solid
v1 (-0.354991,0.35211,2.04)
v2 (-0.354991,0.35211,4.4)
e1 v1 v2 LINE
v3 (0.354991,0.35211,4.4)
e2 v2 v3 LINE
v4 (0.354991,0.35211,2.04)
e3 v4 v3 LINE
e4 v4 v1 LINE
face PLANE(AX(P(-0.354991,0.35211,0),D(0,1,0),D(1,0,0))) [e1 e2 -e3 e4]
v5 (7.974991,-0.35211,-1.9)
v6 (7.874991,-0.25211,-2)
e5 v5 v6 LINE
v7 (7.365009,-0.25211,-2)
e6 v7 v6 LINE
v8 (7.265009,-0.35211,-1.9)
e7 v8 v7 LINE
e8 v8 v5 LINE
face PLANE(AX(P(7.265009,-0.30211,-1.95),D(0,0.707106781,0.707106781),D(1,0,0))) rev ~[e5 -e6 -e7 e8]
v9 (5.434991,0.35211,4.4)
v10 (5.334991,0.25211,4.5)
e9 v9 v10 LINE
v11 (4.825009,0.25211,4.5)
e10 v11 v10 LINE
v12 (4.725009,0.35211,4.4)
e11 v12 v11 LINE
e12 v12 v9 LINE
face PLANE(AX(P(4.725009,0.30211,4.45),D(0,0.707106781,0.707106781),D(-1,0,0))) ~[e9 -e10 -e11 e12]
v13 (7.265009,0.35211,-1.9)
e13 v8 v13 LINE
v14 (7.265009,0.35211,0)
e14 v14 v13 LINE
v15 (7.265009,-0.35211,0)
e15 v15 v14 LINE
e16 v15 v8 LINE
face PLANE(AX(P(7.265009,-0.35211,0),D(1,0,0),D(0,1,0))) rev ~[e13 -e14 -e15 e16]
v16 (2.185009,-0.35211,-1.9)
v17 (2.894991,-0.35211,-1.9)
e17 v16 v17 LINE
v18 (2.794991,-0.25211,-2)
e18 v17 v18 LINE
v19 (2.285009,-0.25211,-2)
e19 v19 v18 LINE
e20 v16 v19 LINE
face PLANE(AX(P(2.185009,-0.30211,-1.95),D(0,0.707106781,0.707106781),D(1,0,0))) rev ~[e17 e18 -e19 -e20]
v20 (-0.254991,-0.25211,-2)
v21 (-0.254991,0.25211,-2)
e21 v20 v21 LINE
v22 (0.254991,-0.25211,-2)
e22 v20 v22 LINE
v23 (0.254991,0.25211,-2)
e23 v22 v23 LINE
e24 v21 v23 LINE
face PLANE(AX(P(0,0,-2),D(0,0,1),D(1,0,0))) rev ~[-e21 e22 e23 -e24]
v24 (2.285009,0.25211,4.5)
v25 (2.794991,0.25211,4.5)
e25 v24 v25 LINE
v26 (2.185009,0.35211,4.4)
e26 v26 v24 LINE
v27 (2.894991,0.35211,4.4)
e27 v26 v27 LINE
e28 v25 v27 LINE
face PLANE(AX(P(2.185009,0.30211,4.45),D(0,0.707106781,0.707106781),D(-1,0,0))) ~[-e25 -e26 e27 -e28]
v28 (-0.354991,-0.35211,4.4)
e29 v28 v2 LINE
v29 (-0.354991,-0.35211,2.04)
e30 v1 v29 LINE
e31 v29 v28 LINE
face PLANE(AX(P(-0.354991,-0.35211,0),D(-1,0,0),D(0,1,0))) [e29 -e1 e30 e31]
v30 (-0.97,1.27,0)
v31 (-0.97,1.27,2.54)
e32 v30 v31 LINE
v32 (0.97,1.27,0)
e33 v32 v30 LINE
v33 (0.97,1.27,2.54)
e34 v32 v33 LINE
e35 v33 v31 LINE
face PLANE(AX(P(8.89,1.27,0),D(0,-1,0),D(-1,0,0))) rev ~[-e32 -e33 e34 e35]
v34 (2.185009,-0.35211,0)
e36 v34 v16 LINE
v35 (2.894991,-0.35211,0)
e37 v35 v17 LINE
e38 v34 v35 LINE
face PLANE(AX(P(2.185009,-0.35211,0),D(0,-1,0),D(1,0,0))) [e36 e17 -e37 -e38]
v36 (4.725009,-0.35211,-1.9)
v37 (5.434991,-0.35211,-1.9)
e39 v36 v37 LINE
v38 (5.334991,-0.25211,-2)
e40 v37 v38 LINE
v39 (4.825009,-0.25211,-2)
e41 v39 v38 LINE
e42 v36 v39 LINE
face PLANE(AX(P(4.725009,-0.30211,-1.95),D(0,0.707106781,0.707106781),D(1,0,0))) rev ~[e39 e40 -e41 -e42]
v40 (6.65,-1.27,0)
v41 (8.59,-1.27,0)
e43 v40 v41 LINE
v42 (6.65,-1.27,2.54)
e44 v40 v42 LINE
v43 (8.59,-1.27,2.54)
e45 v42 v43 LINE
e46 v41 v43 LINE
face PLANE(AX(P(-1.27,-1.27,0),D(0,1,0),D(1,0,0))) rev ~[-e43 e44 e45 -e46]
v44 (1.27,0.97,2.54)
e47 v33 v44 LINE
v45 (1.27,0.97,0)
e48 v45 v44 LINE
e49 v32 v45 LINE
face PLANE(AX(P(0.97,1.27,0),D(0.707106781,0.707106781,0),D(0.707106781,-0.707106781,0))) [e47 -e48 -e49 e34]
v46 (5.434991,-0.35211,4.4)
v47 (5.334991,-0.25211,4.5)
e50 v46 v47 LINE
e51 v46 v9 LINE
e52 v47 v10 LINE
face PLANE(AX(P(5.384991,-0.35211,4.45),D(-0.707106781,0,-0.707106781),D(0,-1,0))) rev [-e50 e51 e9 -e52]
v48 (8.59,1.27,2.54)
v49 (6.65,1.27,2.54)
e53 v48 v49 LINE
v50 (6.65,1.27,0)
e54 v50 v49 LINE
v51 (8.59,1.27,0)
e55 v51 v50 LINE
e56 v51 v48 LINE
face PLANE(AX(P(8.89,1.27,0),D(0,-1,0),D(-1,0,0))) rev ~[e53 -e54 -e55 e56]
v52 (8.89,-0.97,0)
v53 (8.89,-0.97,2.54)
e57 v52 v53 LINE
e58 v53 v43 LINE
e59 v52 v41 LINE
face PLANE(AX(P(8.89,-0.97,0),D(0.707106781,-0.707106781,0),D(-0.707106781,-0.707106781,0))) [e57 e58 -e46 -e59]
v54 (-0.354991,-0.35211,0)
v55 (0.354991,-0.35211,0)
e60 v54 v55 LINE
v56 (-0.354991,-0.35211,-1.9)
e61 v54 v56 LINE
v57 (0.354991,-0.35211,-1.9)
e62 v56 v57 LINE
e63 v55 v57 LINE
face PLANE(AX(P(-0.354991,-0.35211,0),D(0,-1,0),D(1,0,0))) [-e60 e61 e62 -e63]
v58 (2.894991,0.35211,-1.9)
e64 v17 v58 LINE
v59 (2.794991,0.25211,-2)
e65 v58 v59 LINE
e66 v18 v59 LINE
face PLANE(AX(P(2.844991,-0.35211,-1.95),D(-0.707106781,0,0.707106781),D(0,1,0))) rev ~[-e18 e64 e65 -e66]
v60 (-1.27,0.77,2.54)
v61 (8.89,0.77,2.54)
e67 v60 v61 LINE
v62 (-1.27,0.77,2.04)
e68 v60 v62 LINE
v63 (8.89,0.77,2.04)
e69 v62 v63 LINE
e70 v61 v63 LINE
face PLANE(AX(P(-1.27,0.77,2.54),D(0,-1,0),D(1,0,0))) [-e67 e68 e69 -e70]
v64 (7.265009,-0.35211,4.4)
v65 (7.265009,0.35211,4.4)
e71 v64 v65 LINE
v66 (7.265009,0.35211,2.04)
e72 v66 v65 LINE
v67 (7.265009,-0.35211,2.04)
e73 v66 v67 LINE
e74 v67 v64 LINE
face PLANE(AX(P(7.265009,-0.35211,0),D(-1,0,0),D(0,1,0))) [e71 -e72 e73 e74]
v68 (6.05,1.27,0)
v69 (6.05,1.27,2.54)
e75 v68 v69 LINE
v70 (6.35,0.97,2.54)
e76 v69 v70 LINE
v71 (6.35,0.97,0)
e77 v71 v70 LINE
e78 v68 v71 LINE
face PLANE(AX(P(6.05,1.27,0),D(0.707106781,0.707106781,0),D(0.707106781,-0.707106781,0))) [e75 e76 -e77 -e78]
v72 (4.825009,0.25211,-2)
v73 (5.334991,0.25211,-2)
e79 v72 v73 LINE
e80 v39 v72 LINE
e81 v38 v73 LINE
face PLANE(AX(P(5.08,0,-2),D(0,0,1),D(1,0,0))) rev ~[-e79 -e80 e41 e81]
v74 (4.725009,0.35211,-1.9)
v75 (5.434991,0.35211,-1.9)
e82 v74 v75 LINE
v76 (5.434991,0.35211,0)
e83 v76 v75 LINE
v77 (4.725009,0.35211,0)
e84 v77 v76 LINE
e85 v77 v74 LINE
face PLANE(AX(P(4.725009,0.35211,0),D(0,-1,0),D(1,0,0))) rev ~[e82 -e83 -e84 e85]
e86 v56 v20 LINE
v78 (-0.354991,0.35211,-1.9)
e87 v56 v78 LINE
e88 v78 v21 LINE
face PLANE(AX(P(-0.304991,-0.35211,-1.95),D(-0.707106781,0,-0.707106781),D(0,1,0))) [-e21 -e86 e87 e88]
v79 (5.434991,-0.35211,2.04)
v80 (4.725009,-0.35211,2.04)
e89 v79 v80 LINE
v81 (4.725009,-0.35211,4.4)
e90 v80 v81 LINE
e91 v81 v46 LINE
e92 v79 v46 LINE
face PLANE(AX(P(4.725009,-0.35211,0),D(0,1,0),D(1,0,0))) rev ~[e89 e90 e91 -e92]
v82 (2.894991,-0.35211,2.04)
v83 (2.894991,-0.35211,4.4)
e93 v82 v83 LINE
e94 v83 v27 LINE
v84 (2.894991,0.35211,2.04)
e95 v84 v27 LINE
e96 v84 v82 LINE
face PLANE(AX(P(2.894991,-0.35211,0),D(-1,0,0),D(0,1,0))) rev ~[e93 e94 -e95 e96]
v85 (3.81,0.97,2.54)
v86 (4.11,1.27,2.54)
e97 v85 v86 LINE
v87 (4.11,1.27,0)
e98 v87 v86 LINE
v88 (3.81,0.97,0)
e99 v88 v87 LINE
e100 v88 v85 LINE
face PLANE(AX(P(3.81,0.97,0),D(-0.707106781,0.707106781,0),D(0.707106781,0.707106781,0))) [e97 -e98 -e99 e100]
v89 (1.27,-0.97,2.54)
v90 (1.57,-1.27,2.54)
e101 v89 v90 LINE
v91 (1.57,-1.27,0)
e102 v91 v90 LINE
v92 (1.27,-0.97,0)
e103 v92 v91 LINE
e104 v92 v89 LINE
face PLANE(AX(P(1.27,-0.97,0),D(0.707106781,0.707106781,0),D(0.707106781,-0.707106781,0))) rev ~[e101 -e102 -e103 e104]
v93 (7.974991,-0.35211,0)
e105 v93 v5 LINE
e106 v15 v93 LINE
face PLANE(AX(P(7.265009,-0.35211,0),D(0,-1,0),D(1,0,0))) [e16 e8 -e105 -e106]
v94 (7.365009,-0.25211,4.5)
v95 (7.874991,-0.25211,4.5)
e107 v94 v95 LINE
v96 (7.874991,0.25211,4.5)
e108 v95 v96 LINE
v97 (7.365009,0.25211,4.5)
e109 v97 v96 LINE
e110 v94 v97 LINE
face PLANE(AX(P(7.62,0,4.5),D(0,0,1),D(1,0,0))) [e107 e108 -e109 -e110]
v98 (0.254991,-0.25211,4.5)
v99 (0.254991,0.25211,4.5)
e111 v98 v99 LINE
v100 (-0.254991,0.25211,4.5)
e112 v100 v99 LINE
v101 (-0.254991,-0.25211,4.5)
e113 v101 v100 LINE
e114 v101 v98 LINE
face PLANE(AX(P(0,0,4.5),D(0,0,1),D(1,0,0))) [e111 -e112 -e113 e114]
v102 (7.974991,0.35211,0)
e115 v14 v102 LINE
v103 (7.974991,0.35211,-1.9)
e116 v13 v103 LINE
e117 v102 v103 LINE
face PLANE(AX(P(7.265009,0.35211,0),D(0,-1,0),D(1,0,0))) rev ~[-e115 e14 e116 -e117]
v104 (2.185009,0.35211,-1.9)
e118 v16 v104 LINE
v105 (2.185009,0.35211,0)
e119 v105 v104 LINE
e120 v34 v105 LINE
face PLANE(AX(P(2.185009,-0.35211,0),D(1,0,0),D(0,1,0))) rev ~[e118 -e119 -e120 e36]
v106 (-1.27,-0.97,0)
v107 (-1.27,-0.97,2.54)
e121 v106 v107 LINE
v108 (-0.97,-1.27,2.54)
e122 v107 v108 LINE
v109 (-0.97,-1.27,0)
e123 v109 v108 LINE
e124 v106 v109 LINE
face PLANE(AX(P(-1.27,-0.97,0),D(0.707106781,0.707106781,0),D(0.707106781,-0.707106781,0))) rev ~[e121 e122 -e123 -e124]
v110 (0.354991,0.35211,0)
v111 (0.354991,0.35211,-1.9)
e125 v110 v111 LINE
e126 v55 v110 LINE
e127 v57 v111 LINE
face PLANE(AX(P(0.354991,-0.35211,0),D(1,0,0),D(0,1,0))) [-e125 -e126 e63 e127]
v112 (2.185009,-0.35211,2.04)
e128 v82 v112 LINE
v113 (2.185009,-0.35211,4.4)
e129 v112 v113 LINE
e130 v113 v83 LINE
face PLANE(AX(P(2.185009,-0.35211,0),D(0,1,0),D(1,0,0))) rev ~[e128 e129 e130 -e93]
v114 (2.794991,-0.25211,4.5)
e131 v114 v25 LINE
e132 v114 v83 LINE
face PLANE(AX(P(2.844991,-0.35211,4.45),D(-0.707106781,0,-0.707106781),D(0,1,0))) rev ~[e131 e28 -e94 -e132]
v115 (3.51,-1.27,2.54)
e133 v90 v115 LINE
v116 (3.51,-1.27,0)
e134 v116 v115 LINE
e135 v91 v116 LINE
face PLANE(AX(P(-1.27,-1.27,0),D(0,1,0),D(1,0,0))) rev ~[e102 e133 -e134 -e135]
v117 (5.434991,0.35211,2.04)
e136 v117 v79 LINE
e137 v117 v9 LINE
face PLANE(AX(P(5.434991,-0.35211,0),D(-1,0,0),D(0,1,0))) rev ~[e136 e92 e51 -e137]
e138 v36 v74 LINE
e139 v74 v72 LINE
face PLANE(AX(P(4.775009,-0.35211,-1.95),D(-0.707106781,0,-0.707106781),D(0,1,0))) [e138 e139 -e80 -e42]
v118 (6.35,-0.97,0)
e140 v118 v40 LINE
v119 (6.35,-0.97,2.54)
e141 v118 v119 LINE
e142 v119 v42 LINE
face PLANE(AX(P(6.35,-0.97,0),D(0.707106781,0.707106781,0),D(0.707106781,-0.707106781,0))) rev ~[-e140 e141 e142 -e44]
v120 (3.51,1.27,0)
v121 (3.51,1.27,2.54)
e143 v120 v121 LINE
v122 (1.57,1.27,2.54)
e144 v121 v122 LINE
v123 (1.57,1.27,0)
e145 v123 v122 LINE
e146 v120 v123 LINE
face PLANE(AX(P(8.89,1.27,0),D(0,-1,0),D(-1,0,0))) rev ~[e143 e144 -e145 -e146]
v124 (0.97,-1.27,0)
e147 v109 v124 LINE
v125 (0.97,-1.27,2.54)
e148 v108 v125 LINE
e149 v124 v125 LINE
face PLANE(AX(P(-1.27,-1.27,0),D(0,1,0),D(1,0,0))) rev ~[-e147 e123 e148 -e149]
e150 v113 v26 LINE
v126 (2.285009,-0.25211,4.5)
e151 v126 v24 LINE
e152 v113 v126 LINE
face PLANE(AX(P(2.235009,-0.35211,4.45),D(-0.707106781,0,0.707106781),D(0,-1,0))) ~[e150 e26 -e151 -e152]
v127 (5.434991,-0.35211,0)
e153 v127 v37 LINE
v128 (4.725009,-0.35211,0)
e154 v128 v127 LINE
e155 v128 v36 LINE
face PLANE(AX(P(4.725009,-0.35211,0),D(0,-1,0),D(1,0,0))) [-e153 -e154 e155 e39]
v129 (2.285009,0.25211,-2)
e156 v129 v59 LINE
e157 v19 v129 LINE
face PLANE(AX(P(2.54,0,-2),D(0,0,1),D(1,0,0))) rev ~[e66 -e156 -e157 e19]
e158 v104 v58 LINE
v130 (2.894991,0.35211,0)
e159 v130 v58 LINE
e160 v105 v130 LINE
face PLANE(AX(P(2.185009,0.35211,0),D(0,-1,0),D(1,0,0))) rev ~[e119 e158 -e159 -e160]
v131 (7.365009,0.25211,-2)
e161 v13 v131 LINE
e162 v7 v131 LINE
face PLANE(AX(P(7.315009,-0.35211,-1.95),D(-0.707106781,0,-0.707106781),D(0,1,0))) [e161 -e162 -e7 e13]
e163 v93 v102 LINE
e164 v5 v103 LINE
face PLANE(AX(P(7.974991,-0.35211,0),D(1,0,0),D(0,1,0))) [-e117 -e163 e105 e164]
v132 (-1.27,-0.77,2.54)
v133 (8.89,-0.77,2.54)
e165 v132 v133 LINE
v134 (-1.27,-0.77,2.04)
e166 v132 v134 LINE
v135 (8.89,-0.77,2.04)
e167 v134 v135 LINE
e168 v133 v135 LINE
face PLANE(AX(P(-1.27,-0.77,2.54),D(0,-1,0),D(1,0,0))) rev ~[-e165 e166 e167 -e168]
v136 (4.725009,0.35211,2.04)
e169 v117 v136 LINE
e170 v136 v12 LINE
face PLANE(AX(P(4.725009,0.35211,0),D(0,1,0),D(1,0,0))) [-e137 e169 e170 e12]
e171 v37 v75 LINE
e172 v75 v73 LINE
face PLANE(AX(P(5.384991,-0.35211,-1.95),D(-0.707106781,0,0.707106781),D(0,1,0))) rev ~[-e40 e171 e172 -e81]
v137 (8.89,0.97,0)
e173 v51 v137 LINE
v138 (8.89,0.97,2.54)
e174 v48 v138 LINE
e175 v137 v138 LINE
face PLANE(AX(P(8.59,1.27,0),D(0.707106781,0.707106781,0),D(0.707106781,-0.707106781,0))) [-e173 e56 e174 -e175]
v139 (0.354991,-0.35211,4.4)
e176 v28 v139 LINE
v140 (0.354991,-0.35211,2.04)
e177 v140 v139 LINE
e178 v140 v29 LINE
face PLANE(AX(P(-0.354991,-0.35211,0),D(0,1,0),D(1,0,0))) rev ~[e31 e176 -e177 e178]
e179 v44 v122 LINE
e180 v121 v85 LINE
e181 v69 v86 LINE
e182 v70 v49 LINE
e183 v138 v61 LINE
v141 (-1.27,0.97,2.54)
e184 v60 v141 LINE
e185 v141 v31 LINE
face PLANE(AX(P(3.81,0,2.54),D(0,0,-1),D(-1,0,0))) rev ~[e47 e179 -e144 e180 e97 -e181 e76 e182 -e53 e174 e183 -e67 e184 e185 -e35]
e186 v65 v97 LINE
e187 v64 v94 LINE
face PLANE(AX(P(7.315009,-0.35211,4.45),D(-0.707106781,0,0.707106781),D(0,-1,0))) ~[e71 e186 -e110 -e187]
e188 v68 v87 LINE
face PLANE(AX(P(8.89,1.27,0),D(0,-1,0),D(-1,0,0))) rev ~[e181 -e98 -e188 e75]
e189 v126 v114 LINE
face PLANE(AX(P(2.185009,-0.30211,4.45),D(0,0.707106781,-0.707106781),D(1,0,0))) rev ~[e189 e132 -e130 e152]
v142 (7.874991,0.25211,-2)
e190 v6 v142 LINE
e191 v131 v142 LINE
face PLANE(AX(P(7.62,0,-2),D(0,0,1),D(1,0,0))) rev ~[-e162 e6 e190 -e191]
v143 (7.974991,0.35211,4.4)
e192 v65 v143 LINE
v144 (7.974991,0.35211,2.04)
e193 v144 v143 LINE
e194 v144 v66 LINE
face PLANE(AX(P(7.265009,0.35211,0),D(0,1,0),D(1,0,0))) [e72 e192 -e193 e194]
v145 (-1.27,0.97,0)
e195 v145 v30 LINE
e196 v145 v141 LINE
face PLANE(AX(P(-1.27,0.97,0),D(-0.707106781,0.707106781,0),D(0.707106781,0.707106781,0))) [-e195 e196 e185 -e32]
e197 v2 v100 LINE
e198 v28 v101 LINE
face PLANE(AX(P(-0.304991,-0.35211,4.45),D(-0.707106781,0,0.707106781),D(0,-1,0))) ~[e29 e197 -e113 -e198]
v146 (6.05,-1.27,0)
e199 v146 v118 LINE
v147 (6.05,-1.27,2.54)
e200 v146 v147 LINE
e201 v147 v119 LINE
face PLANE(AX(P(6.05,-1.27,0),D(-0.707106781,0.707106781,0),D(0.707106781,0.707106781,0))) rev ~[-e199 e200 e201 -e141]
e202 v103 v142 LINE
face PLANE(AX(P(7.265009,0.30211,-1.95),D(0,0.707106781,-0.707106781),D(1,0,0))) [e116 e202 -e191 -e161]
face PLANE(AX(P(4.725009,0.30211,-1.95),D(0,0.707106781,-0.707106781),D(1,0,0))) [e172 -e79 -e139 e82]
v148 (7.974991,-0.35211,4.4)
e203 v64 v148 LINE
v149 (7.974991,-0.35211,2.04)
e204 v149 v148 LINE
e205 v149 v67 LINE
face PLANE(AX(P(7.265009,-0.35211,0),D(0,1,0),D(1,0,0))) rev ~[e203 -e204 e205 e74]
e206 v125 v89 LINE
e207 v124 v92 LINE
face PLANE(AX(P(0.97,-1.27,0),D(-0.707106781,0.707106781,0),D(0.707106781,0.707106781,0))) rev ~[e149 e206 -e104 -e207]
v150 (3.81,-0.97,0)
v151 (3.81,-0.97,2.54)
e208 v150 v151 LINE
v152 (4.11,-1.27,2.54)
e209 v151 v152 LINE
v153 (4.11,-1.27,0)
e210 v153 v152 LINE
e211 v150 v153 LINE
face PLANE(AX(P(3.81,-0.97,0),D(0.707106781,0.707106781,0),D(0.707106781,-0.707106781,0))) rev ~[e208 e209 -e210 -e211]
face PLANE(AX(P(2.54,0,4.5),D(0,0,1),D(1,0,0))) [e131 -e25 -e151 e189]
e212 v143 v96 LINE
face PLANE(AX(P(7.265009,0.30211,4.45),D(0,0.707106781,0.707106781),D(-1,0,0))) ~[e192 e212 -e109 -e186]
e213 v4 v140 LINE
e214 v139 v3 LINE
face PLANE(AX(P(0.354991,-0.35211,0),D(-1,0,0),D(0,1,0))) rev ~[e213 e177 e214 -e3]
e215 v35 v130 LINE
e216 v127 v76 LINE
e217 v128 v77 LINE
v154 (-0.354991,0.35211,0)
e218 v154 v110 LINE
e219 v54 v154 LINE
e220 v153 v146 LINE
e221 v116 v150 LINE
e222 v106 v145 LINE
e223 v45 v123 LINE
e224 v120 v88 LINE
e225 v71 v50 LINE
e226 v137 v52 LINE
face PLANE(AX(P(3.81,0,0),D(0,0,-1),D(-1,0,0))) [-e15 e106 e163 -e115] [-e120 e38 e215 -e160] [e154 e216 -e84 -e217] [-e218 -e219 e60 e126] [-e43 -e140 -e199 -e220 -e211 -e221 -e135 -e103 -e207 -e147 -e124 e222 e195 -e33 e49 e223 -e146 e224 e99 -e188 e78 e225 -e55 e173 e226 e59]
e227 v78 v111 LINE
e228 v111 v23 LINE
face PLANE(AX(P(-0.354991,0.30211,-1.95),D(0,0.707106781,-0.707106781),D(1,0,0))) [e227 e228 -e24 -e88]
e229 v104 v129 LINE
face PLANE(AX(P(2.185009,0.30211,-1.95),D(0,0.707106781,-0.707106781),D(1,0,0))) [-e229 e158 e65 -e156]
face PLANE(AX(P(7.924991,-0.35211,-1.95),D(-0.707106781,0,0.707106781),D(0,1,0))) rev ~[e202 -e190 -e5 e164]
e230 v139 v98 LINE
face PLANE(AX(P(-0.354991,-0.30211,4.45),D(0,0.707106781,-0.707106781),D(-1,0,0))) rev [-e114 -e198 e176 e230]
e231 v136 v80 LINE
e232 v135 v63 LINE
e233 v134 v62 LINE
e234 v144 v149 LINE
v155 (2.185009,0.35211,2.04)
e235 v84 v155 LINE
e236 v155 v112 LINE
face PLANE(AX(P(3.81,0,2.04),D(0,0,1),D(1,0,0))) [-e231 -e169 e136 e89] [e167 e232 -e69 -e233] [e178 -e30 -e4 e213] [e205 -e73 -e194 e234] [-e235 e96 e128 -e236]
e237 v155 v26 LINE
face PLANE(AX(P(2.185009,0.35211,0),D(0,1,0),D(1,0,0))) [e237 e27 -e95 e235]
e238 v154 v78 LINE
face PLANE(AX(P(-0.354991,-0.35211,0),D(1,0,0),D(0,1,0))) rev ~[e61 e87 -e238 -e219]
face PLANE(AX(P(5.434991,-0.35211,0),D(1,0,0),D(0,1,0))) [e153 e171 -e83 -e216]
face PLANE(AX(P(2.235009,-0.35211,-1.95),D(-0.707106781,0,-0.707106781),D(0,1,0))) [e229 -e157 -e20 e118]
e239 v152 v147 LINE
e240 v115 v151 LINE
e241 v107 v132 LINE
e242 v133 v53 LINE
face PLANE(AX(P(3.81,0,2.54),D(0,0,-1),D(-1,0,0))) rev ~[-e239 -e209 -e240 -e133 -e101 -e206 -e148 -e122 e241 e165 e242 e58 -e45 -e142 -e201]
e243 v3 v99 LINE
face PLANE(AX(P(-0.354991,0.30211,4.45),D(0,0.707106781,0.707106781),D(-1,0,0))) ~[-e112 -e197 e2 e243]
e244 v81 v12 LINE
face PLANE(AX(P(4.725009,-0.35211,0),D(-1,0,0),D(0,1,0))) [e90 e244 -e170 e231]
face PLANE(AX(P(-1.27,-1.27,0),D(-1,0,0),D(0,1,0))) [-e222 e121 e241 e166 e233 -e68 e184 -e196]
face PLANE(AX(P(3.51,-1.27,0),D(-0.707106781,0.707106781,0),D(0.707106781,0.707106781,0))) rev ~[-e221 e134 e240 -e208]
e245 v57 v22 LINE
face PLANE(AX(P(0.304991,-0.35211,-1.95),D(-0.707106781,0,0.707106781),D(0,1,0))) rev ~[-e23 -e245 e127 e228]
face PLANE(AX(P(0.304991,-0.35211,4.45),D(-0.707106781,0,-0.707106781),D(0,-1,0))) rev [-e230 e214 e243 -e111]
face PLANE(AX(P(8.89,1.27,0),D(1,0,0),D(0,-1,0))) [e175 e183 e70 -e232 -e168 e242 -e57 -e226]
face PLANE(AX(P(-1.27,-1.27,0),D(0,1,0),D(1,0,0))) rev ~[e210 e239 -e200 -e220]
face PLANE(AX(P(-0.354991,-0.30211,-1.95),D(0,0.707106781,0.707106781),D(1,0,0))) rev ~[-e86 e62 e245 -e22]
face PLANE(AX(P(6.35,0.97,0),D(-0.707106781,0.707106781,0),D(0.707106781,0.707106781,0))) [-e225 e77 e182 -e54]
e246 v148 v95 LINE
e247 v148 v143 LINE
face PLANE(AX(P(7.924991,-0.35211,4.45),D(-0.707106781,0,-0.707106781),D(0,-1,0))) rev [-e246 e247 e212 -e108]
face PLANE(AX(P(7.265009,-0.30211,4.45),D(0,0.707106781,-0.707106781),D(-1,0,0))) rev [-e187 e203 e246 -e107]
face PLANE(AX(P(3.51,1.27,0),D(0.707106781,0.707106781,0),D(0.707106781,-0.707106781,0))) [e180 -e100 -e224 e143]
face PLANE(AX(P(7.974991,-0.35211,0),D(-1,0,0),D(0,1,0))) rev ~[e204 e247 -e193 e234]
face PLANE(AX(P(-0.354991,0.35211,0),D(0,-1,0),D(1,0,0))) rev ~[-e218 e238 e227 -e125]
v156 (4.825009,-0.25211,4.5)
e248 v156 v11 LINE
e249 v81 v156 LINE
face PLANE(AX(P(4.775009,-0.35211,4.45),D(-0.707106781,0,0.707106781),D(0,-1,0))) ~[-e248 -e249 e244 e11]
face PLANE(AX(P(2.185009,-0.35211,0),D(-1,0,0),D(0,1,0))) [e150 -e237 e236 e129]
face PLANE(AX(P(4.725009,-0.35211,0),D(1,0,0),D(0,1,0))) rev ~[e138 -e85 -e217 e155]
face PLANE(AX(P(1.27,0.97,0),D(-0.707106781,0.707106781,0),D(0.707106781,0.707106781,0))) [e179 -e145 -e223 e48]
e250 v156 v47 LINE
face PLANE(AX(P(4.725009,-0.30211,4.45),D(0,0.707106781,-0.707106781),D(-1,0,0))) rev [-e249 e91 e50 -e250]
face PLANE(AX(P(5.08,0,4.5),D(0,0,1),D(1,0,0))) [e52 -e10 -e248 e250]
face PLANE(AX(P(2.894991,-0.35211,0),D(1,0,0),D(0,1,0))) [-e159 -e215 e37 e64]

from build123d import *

# Parameters (mm, degrees)
SKETCH_1_W          = 0.709981308
SKETCH_1_H          = 0.70422052
EXTRUDE_1_DEPTH     = 10
EXTRUDE_1_2_DEPTH   = 10
EXTRUDE_1_3_DEPTH   = 10
EXTRUDE_1_4_DEPTH   = 10
EXTRUDE_2_DEPTH     = 2.54
SKETCH_4_W          = 10.16
SKETCH_4_H          = 1.54
CUT_EXTRUDE_2_DEPTH = 0.5
SKETCH_1_2_W        = 0.709981308
SKETCH_1_2_H        = 0.70422052
EXTRUDE_3_DEPTH     = 2
CUT_EXTRUDE_1_DEPTH = 2.54
SKETCH_1_3_W        = 0.709981308
SKETCH_1_3_H        = 0.70422052
EXTRUDE_4_DEPTH     = 4.5
CHAMFER_1_SIZE      = 0.1


with BuildPart() as part:
    # 草图1 → 凸台-拉伸1 (new body)
    with BuildSketch(Plane.XY):
        with Locations((2.54, 0)):
            Rectangle(SKETCH_1_W, SKETCH_1_H)
    extrude(amount=EXTRUDE_1_DEPTH)



with BuildPart() as body_2:
    # 草图1 → Extrude 1 2 (new body)
    with BuildSketch(Plane.XY):
        Rectangle(SKETCH_1_W, SKETCH_1_H)
    extrude(amount=EXTRUDE_1_2_DEPTH)


with BuildPart() as body_3:
    # 草图1 → Extrude 1 3 (new body)
    with BuildSketch(Plane.XY):
        with Locations((5.08, 0)):
            Rectangle(SKETCH_1_W, SKETCH_1_H)
    extrude(amount=EXTRUDE_1_3_DEPTH)


with BuildPart() as body_4:
    # 草图1 → Extrude 1 4 (new body)
    with BuildSketch(Plane.XY):
        with Locations((7.62, 0)):
            Rectangle(SKETCH_1_W, SKETCH_1_H)
    extrude(amount=EXTRUDE_1_4_DEPTH)


with BuildPart() as part_1:
    add(part.part)

    add(body_2.part)  # 凸台-拉伸2 merges body 2

    add(body_3.part)  # 凸台-拉伸2 merges body 3

    add(body_4.part)  # 凸台-拉伸2 merges body 4
    # 草图2 → 凸台-拉伸2 (add)
    with BuildSketch(Plane.XY):
        Polygon((-1.27, 1.27), (1.27, 1.27), (6.35, 1.27), (8.89, 1.27), (8.89, -1.27), (6.35, -1.27), (1.27, -1.27), (-1.27, -1.27), align=None)
    extrude(amount=EXTRUDE_2_DEPTH)

    # 草图4 → 切除-拉伸2 (cut)
    with BuildSketch(Plane.XY.offset(2.54)):
        with Locations((3.81, 0)):
            Rectangle(SKETCH_4_W, SKETCH_4_H)
    extrude(amount=-CUT_EXTRUDE_2_DEPTH, mode=Mode.SUBTRACT)


with BuildPart() as body_2_2:
    # of the pieces the cut leaves, the one that is kept (cut_extrude_2_keep)
    add(part_1.part.solids().sort_by_distance((8.89, 1.27, 0))[0])

    # 草图1<2> → 凸台-拉伸3 (add)
    with BuildSketch(Plane.XY):
        with Locations((2.54, 0)):
            Rectangle(SKETCH_1_2_W, SKETCH_1_2_H)
        Rectangle(SKETCH_1_2_W, SKETCH_1_2_H)
        with Locations((5.08, 0)):
            Rectangle(SKETCH_1_2_W, SKETCH_1_2_H)
        with Locations((7.62, 0)):
            Rectangle(SKETCH_1_2_W, SKETCH_1_2_H)
    extrude(amount=-EXTRUDE_3_DEPTH)

    # 草图3 → 切除-拉伸1 (cut)
    with BuildSketch(Plane(origin=(0, 0, 0), x_dir=(-1, 0, 0), z_dir=(0, 0, -1))):
        Polygon((-8.59, 1.27), (-8.89, 0.97), (-8.89, 1.27), align=None)
        Polygon((-6.05, 1.27), (-6.35, 0.97), (-6.65, 1.27), align=None)
        Polygon((-3.51, 1.27), (-3.81, 0.97), (-4.11, 1.27), align=None)
        Polygon((-0.97, 1.27), (-1.27, 0.97), (-1.57, 1.27), align=None)
        Polygon((1.57, 1.27), (1.27, 0.97), (0.97, 1.27), align=None)
        Polygon((0.97, -1.27), (1.57, -1.27), (1.27, -0.97), align=None)
        Polygon((-1.57, -1.27), (-0.97, -1.27), (-1.27, -0.97), align=None)
        Polygon((-4.11, -1.27), (-3.51, -1.27), (-3.81, -0.97), align=None)
        Polygon((-6.65, -1.27), (-6.05, -1.27), (-6.35, -0.97), align=None)
        Polygon((-8.89, -1.27), (-8.89, -0.97), (-8.59, -1.27), align=None)
    extrude(amount=-CUT_EXTRUDE_1_DEPTH, mode=Mode.SUBTRACT)

    # 草图1<3> → 凸台-拉伸4 (add)
    with BuildSketch(Plane.XY):
        with Locations((2.54, 0)):
            Rectangle(SKETCH_1_3_W, SKETCH_1_3_H)
        Rectangle(SKETCH_1_3_W, SKETCH_1_3_H)
        with Locations((5.08, 0)):
            Rectangle(SKETCH_1_3_W, SKETCH_1_3_H)
        with Locations((7.62, 0)):
            Rectangle(SKETCH_1_3_W, SKETCH_1_3_H)
    extrude(amount=EXTRUDE_4_DEPTH)

    # 倒角1
    chamfer_1_edges = [body_2_2.edges().sort_by_distance(p)[0] for p in [
        (0.354990654, 0, -2),
        (0, -0.35211026, -2),
        (-0.354990654, 0, -2),
        (0, 0.35211026, -2),
        (2.894990654, 0, -2),
        (2.54, -0.35211026, -2),
        (2.185009346, 0, -2),
        (2.54, 0.35211026, -2),
        (5.434990654, 0, -2),
        (5.08, -0.35211026, -2),
        (4.725009346, 0, -2),
        (5.08, 0.35211026, -2),
        (7.974990654, 0, -2),
        (7.62, -0.35211026, -2),
        (7.265009346, 0, -2),
        (7.62, 0.35211026, -2),
        (0.354990654, 0, 4.5),
        (0, 0.35211026, 4.5),
        (-0.354990654, 0, 4.5),
        (0, -0.35211026, 4.5),
        (2.894990654, 0, 4.5),
        (2.54, 0.35211026, 4.5),
        (2.185009346, 0, 4.5),
        (2.54, -0.35211026, 4.5),
        (5.434990654, 0, 4.5),
        (5.08, 0.35211026, 4.5),
        (4.725009346, 0, 4.5),
        (5.08, -0.35211026, 4.5),
        (7.974990654, 0, 4.5),
        (7.62, 0.35211026, 4.5),
        (7.265009346, 0, 4.5),
        (7.62, -0.35211026, 4.5),
    ]]
    chamfer(chamfer_1_edges, length=CHAMFER_1_SIZE)


solid = body_2_2.part
